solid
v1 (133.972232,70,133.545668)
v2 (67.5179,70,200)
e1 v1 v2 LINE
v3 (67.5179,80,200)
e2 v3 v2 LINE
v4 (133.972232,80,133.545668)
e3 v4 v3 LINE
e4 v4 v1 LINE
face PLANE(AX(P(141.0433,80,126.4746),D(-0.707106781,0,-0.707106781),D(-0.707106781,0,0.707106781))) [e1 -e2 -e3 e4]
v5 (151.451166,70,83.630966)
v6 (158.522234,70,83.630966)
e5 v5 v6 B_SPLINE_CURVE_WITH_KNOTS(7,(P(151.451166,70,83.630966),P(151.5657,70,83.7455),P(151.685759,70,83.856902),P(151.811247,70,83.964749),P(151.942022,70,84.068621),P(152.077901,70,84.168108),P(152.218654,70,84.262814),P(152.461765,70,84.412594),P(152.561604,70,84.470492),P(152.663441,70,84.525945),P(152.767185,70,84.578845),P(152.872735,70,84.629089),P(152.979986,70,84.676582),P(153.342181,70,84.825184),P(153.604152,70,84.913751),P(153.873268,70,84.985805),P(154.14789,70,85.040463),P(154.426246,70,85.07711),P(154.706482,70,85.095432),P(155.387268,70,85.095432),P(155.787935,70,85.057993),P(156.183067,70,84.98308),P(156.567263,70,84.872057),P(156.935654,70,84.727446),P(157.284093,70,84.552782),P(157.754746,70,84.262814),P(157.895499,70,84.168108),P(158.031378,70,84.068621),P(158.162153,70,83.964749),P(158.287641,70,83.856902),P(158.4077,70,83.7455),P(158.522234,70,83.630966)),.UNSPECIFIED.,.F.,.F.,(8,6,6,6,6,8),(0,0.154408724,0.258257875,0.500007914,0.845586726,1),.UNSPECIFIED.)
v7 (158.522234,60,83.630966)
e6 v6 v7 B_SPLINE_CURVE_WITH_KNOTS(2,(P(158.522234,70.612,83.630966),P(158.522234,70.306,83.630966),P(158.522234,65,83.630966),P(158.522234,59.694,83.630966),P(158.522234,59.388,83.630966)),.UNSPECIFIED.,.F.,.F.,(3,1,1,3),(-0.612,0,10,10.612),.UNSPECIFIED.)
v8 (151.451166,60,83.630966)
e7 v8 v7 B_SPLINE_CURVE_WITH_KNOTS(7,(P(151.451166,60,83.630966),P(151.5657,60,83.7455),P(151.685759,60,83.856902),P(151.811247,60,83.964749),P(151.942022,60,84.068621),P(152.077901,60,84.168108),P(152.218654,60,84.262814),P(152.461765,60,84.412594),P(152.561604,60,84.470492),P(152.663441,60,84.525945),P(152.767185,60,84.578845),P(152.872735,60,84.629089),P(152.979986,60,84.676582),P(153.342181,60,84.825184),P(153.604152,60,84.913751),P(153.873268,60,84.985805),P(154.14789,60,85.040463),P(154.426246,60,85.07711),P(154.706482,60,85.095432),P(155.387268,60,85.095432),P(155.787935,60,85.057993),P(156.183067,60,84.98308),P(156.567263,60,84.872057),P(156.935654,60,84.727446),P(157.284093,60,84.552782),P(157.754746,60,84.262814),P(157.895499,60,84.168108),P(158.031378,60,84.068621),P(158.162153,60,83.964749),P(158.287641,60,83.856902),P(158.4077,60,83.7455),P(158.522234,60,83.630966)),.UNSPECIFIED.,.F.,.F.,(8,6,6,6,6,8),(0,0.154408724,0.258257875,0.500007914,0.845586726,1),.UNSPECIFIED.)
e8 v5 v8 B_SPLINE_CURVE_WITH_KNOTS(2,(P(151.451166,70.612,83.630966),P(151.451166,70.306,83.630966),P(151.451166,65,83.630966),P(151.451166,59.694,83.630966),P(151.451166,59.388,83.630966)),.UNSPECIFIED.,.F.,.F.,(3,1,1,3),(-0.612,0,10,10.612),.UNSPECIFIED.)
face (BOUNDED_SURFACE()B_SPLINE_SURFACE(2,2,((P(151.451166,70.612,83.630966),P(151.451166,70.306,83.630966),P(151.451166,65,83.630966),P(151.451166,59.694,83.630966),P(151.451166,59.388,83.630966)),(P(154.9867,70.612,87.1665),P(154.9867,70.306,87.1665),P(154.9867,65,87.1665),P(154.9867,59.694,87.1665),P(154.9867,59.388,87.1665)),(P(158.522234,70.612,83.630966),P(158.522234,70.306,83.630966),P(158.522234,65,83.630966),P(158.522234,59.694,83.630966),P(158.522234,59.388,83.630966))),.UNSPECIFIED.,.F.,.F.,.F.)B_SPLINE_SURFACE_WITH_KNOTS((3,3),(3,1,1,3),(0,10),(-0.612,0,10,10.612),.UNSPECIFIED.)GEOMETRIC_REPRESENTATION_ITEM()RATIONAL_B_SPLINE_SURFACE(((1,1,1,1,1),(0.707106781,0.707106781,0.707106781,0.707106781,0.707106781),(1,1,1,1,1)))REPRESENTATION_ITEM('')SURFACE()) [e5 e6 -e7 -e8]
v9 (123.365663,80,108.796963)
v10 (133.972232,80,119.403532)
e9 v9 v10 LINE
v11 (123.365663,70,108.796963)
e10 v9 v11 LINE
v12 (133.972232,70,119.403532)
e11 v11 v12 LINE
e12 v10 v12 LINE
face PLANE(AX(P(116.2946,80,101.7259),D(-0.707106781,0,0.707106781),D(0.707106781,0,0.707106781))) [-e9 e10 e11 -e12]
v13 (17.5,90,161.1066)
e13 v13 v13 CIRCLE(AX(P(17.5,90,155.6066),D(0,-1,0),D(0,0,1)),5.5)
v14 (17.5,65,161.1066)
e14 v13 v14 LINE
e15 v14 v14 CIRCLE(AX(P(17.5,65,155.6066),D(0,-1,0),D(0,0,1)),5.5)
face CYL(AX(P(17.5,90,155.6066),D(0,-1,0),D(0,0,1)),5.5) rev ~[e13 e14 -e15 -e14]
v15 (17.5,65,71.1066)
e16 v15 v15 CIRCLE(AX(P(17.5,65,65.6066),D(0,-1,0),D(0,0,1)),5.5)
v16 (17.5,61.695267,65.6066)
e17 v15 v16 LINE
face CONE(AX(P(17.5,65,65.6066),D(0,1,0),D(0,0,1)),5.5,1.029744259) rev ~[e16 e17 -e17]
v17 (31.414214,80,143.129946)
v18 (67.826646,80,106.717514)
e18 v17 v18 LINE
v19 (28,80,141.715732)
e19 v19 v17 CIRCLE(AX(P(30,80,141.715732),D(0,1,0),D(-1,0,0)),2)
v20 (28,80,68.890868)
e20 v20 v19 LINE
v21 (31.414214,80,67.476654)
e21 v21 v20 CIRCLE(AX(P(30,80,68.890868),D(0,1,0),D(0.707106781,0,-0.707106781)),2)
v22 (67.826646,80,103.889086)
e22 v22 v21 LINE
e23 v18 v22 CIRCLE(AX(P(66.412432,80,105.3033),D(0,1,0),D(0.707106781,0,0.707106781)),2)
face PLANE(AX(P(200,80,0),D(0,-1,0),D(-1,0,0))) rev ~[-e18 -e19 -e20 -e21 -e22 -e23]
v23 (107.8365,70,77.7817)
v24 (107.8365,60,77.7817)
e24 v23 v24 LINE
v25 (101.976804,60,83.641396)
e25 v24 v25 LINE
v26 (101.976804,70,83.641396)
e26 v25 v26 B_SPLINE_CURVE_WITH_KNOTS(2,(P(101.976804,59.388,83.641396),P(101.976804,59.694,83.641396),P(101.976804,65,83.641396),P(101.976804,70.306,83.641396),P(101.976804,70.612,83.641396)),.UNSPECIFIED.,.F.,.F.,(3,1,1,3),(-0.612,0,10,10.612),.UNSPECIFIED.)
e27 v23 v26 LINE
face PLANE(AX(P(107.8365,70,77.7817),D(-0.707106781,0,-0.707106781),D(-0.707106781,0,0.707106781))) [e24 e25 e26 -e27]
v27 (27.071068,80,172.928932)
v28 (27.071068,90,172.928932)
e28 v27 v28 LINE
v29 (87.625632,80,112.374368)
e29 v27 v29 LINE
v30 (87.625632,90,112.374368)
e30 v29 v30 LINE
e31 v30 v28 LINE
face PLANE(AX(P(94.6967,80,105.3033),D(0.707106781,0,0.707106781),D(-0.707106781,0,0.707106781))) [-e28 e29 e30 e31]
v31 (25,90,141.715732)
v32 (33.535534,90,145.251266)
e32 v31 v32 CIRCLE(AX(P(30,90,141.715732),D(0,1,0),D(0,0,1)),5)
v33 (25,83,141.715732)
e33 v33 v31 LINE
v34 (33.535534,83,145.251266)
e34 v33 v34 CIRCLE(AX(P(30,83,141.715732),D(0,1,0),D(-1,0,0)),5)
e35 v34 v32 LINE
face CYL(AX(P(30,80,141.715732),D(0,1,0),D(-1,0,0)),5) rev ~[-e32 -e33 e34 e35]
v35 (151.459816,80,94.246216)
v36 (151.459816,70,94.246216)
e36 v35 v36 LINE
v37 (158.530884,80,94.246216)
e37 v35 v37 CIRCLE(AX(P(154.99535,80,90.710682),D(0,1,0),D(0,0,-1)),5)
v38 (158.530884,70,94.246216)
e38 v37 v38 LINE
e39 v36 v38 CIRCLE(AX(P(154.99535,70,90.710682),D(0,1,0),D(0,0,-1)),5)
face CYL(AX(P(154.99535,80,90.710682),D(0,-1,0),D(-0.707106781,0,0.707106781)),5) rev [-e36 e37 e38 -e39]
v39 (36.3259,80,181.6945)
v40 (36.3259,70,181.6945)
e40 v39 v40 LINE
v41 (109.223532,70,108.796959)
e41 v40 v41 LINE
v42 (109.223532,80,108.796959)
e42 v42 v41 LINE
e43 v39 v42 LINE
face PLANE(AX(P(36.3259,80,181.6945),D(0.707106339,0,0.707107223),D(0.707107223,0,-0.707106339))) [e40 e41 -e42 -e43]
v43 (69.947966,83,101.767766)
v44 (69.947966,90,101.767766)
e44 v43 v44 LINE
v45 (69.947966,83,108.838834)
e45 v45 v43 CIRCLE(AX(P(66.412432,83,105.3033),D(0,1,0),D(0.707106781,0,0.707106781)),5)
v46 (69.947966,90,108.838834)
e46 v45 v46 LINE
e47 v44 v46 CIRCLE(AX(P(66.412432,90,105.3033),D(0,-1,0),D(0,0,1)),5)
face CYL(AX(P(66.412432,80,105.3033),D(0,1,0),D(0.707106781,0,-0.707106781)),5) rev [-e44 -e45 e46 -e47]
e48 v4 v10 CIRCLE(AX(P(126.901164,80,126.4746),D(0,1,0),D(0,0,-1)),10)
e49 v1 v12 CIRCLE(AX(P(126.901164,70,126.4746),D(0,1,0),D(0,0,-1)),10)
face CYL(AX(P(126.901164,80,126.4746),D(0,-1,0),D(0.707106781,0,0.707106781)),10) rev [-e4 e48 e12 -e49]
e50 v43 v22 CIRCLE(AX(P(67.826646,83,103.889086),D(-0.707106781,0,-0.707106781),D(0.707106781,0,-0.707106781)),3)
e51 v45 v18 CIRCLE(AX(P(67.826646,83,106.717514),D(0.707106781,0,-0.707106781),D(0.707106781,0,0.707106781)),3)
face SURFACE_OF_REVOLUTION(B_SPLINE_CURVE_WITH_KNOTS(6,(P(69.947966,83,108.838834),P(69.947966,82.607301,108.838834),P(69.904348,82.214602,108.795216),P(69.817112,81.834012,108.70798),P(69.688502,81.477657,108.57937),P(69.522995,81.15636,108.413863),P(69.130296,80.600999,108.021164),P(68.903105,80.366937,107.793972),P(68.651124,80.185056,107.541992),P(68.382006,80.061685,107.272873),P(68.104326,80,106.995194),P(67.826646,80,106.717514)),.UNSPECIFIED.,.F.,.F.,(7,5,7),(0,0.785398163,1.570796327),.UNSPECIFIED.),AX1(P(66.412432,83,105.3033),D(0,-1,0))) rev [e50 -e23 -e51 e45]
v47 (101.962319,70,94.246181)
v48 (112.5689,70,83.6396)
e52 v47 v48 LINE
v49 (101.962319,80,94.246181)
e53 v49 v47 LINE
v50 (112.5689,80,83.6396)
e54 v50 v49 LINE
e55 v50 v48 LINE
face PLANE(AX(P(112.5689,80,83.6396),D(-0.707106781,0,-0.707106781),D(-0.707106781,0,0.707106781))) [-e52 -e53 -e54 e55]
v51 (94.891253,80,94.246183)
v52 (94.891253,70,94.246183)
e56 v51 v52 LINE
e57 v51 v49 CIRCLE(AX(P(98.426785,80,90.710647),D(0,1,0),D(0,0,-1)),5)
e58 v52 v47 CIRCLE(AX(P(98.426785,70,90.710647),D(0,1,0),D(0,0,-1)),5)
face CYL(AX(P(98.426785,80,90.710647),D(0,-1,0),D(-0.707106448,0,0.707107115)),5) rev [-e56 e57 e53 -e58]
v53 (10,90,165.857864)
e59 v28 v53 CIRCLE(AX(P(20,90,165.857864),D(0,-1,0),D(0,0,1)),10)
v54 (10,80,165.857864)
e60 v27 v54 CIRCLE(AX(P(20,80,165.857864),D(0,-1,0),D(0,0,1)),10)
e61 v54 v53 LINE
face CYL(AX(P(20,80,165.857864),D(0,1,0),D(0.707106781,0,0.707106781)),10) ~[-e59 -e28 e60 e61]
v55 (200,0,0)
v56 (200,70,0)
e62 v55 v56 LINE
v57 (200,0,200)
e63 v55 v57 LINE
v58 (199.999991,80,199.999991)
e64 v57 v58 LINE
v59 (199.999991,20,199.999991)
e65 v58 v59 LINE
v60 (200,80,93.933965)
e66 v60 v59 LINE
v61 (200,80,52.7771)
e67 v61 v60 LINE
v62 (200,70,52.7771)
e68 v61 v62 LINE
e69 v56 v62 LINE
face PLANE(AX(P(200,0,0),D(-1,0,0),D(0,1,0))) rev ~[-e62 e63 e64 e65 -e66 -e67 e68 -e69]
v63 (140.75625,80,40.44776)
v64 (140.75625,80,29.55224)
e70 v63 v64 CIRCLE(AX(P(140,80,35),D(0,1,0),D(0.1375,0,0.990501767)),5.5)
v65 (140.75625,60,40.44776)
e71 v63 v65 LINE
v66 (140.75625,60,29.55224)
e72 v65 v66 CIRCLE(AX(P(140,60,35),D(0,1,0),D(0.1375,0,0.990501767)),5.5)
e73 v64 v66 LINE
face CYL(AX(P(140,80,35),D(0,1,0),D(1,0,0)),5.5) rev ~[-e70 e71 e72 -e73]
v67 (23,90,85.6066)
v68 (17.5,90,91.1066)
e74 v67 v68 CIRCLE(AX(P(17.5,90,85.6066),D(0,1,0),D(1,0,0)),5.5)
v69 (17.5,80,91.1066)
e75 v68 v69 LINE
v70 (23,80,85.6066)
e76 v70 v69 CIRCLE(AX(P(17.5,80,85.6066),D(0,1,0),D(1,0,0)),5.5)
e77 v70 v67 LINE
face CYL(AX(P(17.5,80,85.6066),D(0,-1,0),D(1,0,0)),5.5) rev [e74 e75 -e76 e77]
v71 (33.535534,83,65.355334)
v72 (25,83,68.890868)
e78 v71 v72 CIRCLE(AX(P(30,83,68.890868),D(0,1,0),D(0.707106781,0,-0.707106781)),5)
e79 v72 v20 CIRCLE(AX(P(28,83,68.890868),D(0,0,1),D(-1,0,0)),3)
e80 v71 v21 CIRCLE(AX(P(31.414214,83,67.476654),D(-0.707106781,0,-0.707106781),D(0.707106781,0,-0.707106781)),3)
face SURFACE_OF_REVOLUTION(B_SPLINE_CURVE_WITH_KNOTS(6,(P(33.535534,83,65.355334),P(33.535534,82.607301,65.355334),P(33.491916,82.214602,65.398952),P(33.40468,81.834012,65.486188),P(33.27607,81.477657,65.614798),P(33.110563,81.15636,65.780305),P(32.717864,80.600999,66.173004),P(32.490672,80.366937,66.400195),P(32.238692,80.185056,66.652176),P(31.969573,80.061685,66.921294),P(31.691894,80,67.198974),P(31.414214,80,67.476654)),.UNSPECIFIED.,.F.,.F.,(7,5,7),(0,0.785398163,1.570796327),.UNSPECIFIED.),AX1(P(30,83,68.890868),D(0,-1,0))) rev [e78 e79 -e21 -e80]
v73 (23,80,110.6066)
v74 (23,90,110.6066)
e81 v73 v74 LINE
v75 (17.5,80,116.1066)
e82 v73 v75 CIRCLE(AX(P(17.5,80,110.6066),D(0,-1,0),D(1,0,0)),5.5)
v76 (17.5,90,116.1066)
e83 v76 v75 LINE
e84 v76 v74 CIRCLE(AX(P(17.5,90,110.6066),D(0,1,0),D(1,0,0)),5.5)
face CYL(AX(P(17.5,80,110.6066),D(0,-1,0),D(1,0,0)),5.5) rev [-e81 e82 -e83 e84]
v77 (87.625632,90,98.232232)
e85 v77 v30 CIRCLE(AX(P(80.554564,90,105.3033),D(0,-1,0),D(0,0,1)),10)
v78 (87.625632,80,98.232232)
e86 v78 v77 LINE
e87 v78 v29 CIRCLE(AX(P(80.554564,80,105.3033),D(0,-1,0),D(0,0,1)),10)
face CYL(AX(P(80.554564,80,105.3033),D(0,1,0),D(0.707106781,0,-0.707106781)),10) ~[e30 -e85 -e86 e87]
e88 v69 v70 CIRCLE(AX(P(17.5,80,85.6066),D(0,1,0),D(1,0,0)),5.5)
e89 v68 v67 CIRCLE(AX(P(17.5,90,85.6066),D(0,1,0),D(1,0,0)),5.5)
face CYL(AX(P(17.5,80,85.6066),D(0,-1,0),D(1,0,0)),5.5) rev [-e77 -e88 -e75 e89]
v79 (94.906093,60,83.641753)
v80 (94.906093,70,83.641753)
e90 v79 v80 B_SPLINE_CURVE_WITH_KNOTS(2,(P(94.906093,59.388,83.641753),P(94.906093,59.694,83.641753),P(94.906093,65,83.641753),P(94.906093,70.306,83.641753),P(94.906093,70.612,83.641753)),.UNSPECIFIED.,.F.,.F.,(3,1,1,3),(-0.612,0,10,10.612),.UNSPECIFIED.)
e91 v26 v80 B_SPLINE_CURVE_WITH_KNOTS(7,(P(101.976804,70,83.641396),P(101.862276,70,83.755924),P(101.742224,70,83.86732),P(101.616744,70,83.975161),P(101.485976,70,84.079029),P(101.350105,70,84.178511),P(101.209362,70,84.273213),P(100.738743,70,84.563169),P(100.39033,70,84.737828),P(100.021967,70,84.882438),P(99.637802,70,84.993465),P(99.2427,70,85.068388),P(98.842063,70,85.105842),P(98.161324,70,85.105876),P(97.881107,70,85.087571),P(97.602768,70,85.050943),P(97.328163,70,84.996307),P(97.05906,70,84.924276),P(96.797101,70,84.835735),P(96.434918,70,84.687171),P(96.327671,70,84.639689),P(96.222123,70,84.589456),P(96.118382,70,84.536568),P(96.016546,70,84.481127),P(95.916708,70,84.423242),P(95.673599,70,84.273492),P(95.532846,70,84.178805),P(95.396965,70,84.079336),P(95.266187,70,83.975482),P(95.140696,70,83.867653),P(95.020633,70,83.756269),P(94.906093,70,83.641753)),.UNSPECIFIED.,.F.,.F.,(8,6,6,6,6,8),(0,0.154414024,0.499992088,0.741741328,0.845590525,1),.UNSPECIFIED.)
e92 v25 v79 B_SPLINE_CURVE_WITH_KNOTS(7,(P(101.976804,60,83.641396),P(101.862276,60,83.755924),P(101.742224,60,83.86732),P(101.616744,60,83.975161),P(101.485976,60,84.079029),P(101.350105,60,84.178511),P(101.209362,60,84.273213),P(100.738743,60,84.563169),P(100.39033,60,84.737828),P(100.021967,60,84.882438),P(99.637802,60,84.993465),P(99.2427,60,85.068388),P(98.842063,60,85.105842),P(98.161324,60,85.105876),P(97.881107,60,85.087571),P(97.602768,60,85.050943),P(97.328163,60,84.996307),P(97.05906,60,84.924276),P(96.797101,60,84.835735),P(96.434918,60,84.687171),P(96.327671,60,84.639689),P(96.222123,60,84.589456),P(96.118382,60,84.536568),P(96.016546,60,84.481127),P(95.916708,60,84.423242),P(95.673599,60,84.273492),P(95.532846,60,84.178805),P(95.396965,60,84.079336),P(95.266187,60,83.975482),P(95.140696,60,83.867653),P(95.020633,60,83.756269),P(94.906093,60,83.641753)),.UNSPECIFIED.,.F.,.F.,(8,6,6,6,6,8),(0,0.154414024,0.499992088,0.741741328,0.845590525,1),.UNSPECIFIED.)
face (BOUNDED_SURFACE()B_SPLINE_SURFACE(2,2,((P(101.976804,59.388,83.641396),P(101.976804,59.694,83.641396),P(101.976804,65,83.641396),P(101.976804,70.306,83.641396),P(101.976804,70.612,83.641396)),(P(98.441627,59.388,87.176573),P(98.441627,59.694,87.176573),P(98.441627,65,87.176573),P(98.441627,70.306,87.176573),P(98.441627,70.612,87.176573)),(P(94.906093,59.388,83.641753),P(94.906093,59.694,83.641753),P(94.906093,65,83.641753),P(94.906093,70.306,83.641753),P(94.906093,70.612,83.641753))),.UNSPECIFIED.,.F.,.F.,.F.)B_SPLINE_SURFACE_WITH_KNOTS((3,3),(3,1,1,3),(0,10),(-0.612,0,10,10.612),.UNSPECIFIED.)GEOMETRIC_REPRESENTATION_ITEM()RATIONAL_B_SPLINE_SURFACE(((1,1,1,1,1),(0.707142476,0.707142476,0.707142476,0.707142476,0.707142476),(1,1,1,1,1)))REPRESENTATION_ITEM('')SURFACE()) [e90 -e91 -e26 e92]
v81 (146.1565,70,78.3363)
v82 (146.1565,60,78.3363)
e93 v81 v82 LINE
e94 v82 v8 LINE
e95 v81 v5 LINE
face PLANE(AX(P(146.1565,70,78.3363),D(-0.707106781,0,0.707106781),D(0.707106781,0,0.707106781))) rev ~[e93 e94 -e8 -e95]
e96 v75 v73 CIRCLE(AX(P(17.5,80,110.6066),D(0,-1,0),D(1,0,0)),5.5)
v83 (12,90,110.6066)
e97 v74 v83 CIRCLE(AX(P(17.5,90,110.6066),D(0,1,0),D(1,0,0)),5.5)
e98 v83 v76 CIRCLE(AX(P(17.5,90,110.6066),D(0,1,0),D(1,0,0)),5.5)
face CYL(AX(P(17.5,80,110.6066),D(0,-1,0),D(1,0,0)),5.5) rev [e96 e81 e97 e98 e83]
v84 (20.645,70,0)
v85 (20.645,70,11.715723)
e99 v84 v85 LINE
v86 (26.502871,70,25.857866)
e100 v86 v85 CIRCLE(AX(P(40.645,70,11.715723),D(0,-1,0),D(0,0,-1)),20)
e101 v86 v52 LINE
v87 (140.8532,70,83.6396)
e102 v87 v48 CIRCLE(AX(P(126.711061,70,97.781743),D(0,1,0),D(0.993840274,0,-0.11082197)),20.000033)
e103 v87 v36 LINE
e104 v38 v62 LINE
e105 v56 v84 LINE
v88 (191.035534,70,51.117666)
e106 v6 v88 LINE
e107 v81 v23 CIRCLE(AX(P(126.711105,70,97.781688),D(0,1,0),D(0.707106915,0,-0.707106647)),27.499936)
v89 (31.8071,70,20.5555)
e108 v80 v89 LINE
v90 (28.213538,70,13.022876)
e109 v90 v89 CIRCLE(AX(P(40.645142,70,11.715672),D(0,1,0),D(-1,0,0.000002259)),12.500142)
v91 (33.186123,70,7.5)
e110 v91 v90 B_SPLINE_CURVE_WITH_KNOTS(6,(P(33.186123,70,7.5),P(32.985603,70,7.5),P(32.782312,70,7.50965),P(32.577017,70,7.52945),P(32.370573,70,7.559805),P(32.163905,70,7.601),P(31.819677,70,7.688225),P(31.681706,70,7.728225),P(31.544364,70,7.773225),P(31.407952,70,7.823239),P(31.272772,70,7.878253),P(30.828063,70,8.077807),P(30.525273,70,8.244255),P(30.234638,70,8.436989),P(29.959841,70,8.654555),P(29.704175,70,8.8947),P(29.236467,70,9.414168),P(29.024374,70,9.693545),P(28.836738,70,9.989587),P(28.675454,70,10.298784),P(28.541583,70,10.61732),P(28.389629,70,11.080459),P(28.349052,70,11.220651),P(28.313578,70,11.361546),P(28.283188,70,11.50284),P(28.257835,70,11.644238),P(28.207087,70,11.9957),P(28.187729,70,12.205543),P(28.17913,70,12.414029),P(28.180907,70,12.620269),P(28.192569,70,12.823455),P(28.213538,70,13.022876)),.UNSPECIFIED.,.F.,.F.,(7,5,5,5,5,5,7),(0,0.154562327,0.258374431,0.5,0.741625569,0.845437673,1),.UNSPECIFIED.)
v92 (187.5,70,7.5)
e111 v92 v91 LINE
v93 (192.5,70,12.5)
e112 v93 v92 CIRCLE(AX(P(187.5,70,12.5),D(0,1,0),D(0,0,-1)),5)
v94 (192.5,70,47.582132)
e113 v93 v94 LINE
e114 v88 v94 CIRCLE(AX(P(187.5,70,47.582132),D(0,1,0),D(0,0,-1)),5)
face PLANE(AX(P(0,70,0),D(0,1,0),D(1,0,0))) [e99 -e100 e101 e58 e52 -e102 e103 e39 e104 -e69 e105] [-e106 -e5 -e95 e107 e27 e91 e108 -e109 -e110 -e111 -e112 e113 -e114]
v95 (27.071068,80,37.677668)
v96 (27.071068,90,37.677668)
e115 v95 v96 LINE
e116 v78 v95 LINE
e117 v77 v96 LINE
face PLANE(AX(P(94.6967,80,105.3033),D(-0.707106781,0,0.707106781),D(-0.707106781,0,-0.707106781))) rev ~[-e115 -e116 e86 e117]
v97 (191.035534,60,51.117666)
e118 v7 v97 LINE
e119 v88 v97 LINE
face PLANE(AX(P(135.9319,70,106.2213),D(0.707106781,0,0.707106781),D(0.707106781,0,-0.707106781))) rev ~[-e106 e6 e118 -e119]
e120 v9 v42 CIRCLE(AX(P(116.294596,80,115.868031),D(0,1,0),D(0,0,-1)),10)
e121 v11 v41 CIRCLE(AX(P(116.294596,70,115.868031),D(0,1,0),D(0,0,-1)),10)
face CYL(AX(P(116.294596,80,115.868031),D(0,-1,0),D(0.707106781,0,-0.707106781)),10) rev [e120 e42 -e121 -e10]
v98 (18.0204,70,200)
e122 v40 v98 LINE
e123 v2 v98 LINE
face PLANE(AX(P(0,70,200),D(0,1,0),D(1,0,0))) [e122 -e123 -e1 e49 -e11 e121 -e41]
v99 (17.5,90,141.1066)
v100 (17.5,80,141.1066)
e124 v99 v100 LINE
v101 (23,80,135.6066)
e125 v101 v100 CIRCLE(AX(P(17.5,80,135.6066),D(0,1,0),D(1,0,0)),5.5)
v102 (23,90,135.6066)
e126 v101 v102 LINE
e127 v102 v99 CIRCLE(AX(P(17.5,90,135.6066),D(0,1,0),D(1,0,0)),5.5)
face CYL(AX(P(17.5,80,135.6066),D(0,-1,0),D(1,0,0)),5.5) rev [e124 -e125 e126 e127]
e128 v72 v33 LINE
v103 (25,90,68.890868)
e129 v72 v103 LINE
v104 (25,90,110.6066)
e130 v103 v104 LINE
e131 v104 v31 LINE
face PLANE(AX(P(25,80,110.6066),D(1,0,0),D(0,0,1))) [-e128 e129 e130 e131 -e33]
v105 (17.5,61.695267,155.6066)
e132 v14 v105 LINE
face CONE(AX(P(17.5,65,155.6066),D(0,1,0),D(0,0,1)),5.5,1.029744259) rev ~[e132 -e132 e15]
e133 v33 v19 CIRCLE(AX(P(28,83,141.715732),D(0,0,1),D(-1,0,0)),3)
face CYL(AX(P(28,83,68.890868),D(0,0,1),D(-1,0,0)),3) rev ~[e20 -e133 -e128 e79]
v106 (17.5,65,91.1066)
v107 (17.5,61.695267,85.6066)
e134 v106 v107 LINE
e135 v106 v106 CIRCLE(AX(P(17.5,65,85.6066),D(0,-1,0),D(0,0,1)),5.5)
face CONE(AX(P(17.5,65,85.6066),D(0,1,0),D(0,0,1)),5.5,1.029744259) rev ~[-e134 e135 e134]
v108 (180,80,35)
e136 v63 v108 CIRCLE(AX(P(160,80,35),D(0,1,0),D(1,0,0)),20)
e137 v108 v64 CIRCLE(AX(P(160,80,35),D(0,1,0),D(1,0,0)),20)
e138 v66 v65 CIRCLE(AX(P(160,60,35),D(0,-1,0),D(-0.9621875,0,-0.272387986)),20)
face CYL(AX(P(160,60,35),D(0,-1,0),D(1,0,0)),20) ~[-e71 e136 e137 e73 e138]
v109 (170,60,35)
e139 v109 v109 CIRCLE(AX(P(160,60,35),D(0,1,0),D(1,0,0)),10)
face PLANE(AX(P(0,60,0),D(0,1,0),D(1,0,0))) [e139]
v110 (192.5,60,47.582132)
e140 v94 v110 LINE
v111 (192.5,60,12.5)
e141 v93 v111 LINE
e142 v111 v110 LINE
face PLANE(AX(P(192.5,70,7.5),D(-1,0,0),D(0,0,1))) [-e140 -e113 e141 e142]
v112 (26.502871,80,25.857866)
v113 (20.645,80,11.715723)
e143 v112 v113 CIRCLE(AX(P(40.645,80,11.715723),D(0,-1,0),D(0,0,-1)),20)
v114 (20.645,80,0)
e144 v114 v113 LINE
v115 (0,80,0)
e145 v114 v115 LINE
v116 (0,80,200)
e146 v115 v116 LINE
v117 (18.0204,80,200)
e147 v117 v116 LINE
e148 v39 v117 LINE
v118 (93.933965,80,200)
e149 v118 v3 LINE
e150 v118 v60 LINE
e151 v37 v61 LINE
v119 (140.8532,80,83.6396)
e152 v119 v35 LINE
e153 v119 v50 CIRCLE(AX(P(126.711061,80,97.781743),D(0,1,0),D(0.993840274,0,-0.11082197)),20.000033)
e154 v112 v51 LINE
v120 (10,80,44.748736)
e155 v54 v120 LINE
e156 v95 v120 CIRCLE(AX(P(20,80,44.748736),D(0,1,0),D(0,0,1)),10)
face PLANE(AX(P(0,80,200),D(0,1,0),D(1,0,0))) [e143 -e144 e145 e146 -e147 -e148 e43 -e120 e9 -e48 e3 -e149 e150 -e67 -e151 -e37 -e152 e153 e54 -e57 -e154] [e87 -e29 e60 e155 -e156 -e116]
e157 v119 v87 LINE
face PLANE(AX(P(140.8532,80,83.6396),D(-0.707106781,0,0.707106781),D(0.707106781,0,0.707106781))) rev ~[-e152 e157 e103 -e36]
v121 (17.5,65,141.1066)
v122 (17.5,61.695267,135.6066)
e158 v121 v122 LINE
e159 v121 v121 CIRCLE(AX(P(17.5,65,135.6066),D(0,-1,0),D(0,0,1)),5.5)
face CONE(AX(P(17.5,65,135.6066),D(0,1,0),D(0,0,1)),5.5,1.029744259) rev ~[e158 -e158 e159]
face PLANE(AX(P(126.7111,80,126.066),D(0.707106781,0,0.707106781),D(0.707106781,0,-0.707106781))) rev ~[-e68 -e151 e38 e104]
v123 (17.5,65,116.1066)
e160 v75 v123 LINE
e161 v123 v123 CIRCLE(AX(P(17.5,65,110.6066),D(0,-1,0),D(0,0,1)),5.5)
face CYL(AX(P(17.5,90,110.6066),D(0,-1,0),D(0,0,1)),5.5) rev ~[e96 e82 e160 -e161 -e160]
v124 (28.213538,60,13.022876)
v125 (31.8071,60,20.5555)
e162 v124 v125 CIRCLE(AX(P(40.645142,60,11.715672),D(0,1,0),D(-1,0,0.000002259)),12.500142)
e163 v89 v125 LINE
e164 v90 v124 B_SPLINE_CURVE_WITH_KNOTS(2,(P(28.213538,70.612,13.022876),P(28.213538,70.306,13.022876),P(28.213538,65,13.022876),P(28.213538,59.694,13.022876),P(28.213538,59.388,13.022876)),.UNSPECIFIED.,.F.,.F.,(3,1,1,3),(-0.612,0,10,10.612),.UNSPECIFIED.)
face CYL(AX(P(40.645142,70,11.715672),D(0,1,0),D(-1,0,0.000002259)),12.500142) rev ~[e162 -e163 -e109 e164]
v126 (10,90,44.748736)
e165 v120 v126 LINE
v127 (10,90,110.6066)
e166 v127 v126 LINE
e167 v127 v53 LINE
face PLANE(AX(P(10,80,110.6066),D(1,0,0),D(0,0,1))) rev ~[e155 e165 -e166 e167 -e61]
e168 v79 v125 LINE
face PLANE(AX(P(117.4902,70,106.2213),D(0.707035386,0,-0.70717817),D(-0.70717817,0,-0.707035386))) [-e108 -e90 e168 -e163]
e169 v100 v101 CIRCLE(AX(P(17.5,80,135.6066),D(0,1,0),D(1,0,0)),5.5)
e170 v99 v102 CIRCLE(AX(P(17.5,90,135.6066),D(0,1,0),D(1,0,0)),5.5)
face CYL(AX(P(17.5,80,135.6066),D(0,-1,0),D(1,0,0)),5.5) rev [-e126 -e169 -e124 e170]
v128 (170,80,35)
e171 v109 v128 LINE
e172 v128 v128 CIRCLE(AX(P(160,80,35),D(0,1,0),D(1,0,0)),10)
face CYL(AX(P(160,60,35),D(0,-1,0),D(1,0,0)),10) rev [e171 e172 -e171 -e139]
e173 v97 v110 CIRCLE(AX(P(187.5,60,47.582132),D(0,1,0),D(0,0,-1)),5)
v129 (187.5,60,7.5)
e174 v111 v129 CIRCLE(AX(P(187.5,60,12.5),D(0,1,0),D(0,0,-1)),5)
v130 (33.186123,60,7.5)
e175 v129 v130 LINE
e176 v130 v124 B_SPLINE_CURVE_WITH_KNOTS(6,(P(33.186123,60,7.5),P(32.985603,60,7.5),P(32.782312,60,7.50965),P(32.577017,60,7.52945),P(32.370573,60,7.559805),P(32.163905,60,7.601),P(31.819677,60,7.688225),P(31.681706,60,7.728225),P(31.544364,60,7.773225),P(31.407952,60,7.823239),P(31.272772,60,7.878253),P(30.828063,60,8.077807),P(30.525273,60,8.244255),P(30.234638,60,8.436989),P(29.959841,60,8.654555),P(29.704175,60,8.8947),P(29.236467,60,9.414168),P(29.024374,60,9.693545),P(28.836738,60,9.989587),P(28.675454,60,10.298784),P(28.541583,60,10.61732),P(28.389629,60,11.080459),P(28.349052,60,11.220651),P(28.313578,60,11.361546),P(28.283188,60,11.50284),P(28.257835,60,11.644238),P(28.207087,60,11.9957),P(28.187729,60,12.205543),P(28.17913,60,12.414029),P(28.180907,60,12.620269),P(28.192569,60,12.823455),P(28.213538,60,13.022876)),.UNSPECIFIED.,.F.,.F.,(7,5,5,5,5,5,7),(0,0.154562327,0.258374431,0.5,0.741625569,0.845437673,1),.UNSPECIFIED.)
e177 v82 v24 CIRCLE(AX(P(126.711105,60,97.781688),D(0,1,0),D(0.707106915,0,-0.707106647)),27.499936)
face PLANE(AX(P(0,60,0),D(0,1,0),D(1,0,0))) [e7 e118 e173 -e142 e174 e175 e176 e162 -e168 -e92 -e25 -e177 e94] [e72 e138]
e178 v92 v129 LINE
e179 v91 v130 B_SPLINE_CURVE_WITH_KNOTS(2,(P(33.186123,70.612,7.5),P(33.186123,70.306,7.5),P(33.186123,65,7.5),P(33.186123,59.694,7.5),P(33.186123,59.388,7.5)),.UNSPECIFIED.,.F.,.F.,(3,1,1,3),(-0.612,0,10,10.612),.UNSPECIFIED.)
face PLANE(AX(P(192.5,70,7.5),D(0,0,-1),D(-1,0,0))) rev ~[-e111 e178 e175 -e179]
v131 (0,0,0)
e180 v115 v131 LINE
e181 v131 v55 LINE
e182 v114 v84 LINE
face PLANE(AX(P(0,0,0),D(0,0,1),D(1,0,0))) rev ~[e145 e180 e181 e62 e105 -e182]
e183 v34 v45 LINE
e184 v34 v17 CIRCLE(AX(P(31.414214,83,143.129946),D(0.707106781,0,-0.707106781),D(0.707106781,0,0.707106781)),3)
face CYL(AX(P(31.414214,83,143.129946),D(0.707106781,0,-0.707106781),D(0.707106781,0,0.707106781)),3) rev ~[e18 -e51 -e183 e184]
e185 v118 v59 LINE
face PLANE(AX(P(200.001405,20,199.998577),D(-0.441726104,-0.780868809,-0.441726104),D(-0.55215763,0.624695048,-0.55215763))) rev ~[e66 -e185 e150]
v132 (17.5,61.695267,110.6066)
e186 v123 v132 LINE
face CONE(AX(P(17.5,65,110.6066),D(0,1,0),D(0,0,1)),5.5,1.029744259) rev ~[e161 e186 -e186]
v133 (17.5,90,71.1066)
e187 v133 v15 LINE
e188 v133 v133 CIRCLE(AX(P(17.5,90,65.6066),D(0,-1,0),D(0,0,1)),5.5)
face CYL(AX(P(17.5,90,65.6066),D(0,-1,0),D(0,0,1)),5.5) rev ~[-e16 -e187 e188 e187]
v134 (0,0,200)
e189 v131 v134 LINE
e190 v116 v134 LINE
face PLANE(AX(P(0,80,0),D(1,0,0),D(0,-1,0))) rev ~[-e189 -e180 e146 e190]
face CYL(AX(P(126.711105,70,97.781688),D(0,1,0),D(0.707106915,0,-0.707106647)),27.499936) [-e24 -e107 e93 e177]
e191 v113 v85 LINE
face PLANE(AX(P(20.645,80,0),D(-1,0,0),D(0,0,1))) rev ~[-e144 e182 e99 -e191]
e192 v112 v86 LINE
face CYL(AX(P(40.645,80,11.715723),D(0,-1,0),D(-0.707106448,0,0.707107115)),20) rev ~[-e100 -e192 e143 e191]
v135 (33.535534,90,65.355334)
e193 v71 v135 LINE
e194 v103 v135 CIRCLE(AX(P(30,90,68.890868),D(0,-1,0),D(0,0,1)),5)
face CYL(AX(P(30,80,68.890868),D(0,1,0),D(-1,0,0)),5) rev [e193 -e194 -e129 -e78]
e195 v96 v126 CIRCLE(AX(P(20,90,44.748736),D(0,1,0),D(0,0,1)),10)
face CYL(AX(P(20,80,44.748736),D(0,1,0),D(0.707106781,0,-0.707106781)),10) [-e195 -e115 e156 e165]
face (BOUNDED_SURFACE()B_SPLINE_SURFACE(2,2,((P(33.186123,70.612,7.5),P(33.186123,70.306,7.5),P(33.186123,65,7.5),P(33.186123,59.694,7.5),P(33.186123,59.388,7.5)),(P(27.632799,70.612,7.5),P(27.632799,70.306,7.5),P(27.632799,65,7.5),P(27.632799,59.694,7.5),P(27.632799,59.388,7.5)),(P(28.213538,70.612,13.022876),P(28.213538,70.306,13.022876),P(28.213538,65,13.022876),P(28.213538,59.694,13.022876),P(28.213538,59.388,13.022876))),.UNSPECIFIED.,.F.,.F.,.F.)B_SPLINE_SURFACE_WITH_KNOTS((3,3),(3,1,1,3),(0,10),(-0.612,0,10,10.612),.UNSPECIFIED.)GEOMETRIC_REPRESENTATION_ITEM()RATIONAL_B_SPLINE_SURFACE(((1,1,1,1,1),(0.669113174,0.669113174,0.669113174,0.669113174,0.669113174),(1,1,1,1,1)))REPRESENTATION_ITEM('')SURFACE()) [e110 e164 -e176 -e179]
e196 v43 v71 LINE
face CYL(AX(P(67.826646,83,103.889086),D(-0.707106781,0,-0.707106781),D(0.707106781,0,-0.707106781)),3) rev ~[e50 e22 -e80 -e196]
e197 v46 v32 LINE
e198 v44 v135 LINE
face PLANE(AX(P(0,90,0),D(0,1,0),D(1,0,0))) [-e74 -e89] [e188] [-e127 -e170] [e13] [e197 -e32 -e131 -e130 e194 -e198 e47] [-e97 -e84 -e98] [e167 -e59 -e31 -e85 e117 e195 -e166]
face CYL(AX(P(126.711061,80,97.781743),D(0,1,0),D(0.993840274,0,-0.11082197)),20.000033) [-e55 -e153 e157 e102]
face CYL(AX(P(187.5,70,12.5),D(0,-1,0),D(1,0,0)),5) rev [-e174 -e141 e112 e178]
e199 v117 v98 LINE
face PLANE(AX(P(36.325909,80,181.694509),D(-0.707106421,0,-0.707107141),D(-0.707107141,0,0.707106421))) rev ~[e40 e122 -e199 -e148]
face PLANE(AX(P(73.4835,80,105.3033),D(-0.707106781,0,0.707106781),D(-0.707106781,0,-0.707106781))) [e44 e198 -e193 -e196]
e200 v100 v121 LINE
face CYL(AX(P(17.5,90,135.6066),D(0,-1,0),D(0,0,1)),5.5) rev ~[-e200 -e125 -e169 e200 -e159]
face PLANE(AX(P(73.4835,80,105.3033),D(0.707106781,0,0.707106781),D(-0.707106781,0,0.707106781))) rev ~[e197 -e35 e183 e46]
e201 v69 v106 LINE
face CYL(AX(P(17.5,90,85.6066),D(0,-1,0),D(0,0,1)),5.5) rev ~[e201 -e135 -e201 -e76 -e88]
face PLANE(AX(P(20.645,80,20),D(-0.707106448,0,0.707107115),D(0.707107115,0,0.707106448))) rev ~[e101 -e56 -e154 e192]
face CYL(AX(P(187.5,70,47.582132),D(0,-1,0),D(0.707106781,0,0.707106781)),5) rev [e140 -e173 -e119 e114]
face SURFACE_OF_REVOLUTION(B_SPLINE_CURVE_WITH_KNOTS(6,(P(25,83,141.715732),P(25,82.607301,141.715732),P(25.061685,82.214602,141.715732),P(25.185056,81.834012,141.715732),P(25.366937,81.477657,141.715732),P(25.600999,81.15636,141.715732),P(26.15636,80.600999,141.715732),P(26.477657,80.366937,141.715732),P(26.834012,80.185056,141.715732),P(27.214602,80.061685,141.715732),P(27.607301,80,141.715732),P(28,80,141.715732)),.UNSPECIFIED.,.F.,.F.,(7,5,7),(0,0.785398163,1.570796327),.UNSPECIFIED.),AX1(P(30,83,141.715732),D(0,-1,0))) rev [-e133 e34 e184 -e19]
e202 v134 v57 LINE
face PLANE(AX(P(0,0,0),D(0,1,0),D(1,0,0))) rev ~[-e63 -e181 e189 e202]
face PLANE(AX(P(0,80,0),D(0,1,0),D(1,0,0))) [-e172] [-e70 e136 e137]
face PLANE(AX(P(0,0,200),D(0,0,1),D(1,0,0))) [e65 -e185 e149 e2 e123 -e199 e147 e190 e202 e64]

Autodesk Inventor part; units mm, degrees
ref_plane "YZ Plane" through (0, 0, 0) normal (1, 0, 0) x (0, 1, 0)
ref_plane "XZ Plane" through (0, 0, 0) normal (0, 1, 0) x (-1, 0, 0)
sketch "Sketch1" plane through (0, 0, 0) normal (0, 0, 1) x (1, 0, 0)
  line L0 (0, 0) -> (200, 0)
  line L1 (200, 0) -> (200, 80)
  line L2 (200, 80) -> (0, 80)
  line L3 (0, 80) -> (0, 0)
  dimension "d0" = 200
  dimension "d1" = 80
extrude "Extrusion1" add sketch "Sketch1" along normal blind 200
sketch "Sketch2" plane through (0, 80, 0) normal (0, 1, 0) x (1, 0, 0)
  line L0 (0, 0) -> (200, 0) projected
  line L1 (0, 0) -> (0, -200) projected
  line L2 (10, -20.6066) -> (10, -190)
  line L3 (20.6066, -10) -> (190, -10)
  line L4 (10, -20.6066) -> (10, -25)
  line L5 (20.6066, -10) -> (25, -10)
  line L6 (105.3033, -94.6967) -> (20.6066, -10)
  line L7 (94.6967, -105.3033) -> (10, -20.6066)
  line L8 (190, -10) -> (105.3033, -94.6967)
  line L9 (94.6967, -105.3033) -> (10, -190)
  line L10 (105.3033, -73.4835) -> (153.7868, -25)
  line L11 (94.6967, -105.3033) -> (84.0901, -115.9099)
  line L12 (73.4835, -105.3033) -> (25, -56.8198)
  line L13 (105.3033, -73.4835) -> (56.8198, -25)
  line L14 (153.7868, -25) -> (56.8198, -25)
  line L15 (25, -56.8198) -> (25, -153.7868)
  line L16 (134.3503, -134.3503) -> (91.9239, -176.7767)
  line L17 (63.6396, -148.4924) -> (148.4924, -63.6396)
  line L18 (176.7767, -91.9239) -> (134.3503, -134.3503)
  arc A0 (176.7767, -91.9239) -> (148.4924, -63.6396) centre (162.6346, -77.7817) ccw
  arc A1 (169.7056, -84.8528) -> (155.5635, -70.7107) centre (162.6346, -77.7817) ccw
  line L19 (169.7056, -84.8528) -> (97.1003, -157.4582)
  line L20 (155.5635, -70.7107) -> (82.9581, -143.316)
  line L21 (73.4835, -105.3033) -> (25, -153.7868)
  line L22 (10, -110.6066) -> (25, -110.6066)
  circle A2 centre (17.5, -110.6066) radius 5.5
  circle A3 centre (17.5, -135.6066) radius 5.5
  circle A4 centre (17.5, -85.6066) radius 5.5
  circle A5 centre (17.5, -65.6066) radius 3.5
  circle A6 centre (17.5, -155.6066) radius 3.5
  arc A7 (63.6396, -148.4924) -> (91.9239, -176.7767) centre (77.7817, -162.6346) ccw
  arc A8 (97.1003, -157.4582) -> (82.9581, -143.316) centre (77.7817, -162.6346) ccw
  dimension "d20" = 40
  dimension "d22" = 11
  dimension "d24" = 11
  dimension "d26" = 11
  dimension "d29" = 7
  dimension "d30" = 7
extrude "Extrusion2" add sketch "Sketch2" along normal blind 10
ref_plane "Work Plane1" through (0, 80, 0) normal (-0.7071, 0, 0.7071) x (0, -1, 0)
sketch "Sketch3" plane through (0, 80, 0) normal (-0.7071, 0, 0.7071) x (0, -1, 0)
  line L0 (80, 282.8427) -> (0, 282.8427) projected
  line L1 (0, 282.8427) -> (0, 207.8427)
  line L2 (0, 141.4214) -> (0, 282.8427) projected
  line L3 (0, 282.8427) -> (60, 282.8427)
  line L4 (60, 282.8427) -> (0, 207.8427)
  point P0 (80, 0)
  dimension "d33" = 75
  dimension "d34" = 60
extrude "Extrusion3" cut sketch "Sketch3" along normal mid plane 200
fillet "Fillet1" radius 5 3 edges at (25, 85, 56.8198) (73.4835, 85, 105.3033) (25, 85, 153.7868)
sketch "Sketch5" plane through (0, 90, 0) normal (0, 1, 0) x (1, 0, 0)
  point P0 (0, 0)
sketch "Sketch6" plane through (0, 90, 0) normal (0, 1, 0) x (1, 0, 0)
  arc A0 (63.6396, -148.4924) -> (91.9239, -176.7767) centre (77.7817, -162.6346) ccw projected
  arc A1 (63.6396, -148.4924) -> (91.9239, -176.7767) centre (77.7817, -162.6346) ccw
  arc A2 (169.7056, -84.8528) -> (155.5635, -70.7107) centre (162.6346, -77.7817) ccw projected
  arc A3 (176.7767, -91.9239) -> (148.4924, -63.6396) centre (162.6346, -77.7817) ccw
  line L0 (148.4924, -63.6396) -> (63.6396, -148.4924) projected
  line L1 (63.6396, -148.4924) -> (148.4924, -63.6396)
  line L2 (91.9239, -176.7767) -> (176.7767, -91.9239) projected
  line L3 (91.9239, -176.7767) -> (176.7767, -91.9239)
  point P0 (0, 0)
extrude "Extrusion5" cut sketch "Sketch6" against normal blind 10
sketch "Sketch7" plane through (0, 90, 0) normal (0, 1, 0) x (1, 0, 0)
  line L0 (105.3033, -94.6967) -> (20.6066, -10) projected
  line L1 (20.6066, -10) -> (105.3033, -94.6967)
  line L2 (190, -10) -> (105.3033, -94.6967) projected
  line L3 (105.3033, -94.6967) -> (190, -10)
  line L4 (190, -10) -> (20.6066, -10)
  point P0 (0, 0)
extrude "Extrusion6" cut sketch "Sketch7" against normal blind 10
sketch "Sketch8" plane through (0, 80, 0) normal (0, 1, 0) x (1, 0, 0)
  line L0 (200, 0) -> (0, 0) projected
  line L1 (0, 0) -> (20.645, 0)
  line L2 (20.645, 0) -> (20.645, -20)
  line L3 (20.645, -20) -> (126.7111, -126.066)
  line L4 (20.645, -20) -> (170.645, -20) construction
  line L5 (126.7111, -126.066) -> (200, -52.7771)
  line L6 (200, 0) -> (200, -93.934) projected
  line L7 (20.645, 0) -> (200, 0)
  line L8 (200, -52.7771) -> (200, 0)
  dimension "d45" = 20
  dimension "d46" = 150
  dimension "d47" = 45
extrude "Extrusion7" cut sketch "Sketch8" against normal blind 10
fillet "Fillet2" radius 20 2 edges at (126.7111, 75, 126.066) (20.645, 75, 20)
sketch "Sketch9" plane through (0, 70, 0) normal (0, 1, 0) x (1, 0, 0)
  arc A0 (112.5689, -111.9239) -> (140.8532, -111.9239) centre (126.7111, -97.7817) ccw projected
  arc A1 (117.4902, -106.2213) -> (135.9319, -106.2213) centre (126.7111, -97.7817) ccw
  arc A2 (20.645, -11.7157) -> (26.5029, -25.8579) centre (40.645, -11.7157) ccw projected
  arc A3 (28.145, -11.7157) -> (31.8071, -20.5555) centre (40.645, -11.7157) ccw
  line L0 (117.4902, -106.2213) -> (31.8071, -20.5555)
  line L1 (135.9319, -106.2213) -> (226.547, -106.2213) construction
  line L2 (200, 0) -> (200, -52.7771) projected
  line L3 (200, 0) -> (192.5, 0)
  line L4 (20.645, 0) -> (200, 0) projected
  line L5 (192.5, -7.5) -> (192.5, -49.6532)
  line L6 (200, 0) -> (200, -7.5)
  line L7 (192.5, -7.5) -> (28.145, -7.5)
  line L8 (28.145, -11.7157) -> (28.145, -7.5)
  line L9 (135.9319, -106.2213) -> (192.5, -49.6532)
  line L10 (200, -42.1532) -> (200.0065, -42.1467)
  line L11 (126.7111, -97.7817) -> (126.7111, -85.2817)
  circle A4 centre (126.7111, -97.7817) radius 12.5
  point P0 (0, 0)
  dimension "d51" = 25
  dimension "d52" = 25
  dimension "d54" = 7.5
  dimension "d55" = 7.5
extrude "Extrusion8" cut sketch "Sketch9" against normal blind 10 contours L0 A3 L8 L7 L5 L9 A4
sketch "Sketch10" plane through (0, 70, 0) normal (0, 1, 0) x (1, 0, 0)
  arc A0 (135.9319, -106.2213) -> (117.4902, -106.2213) centre (126.7111, -97.7817) ccw projected
  circle A1 centre (126.7111, -97.7817) radius 20
  point P0 (0, 0)
extrude "Extrusion9" add sketch "Sketch10" along normal blind 10 and the other way blind 10
sketch "Sketch11" plane through (0, 80, 200) normal (0, 1, 0) x (1, 0, 0)
  arc A0 (146.5879, 104.4347) -> (106.834, 104.4327) centre (126.7111, 102.2183) ccw projected
  line L0 (126.7111, 102.2183) -> (112.5689, 116.3604)
  line L1 (126.7111, 102.2183) -> (146.7111, 102.2183) construction
  line L2 (112.5689, 116.3604) -> (98.4268, 102.2183)
  line L3 (112.5689, 88.0761) -> (26.5029, 174.1421) projected
  line L4 (140.8532, 116.3604) -> (154.9953, 102.2183)
  line L5 (200, 147.2229) -> (140.8532, 88.0761) projected
  arc A1 (112.5689, 88.0761) -> (140.8532, 88.0761) centre (126.7111, 102.2183) ccw
  arc A2 (140.8532, 116.3604) -> (112.5689, 116.3604) centre (126.7111, 102.2183) ccw
  line L6 (112.5689, 88.0761) -> (98.4268, 102.2183)
  line L7 (154.9953, 102.2183) -> (140.8532, 88.0761)
  point P0 (0, 200)
  dimension "d62" = 135
extrude "Extrusion10" add sketch "Sketch11" against normal blind 20
fillet "Fillet3" radius 10 2 edges at (103.7373, 65, 92.4712) (149.6834, 65, 92.4698)
sketch "Sketch12" plane through (0, 70, 0) normal (0, 1, 0) x (1, 0, 0)
  arc A0 (140.8532, -83.6396) -> (112.5689, -83.6396) centre (126.7111, -97.7817) ccw projected
  line L0 (107.8365, -77.7817) -> (93.1316, -92.4866)
  line L1 (98.4268, -97.7817) -> (26.5029, -25.8579) projected
  line L2 (146.1565, -78.3363) -> (160.2986, -92.4784)
  line L3 (200, -52.7771) -> (154.9953, -97.7817) projected
  line L4 (160.2986, -92.4784) -> (127.5069, -125.2702)
  line L5 (127.5069, -125.2702) -> (93.9274, -91.6908)
  arc A1 (146.1565, -78.3363) -> (106.7111, -78.9072) centre (126.7111, -97.7817) ccw
  point P0 (0, 0)
extrude "Extrusion11" add sketch "Sketch12" against normal blind 20 contours A1 L2 L3 L4 L5 L0
fillet "Fillet4" radius 5 2 edges at (98.6681, 65, 86.9501) (154.7622, 65, 86.942)
fillet "Fillet5" radius 5 2 edges at (98.4268, 75, 97.7817) (154.9953, 75, 97.7817)
fillet "Fillet6" radius 5 3 edges at (192.5, 65, 7.5) (192.5, 65, 49.6532) (28.145, 65, 7.5)
sketch "Sketch13" plane through (0, 60, 0) normal (0, 1, 0) x (1, 0, 0)
  line L0 (200, 0) -> (200, -52.7771) projected
  line L1 (200, 0) -> (200, -35)
  line L2 (200, -35) -> (160, -35)
  circle A0 centre (160, -35) radius 20
  circle A1 centre (160, -35) radius 10
  point P0 (0, 0)
  dimension "d72" = 35
  dimension "d73" = 40
  dimension "d74" = 40
  dimension "d75" = 20
extrude "Extrusion12" add sketch "Sketch13" along normal blind 20
fillet "Fillet7" radius 10 3 edges at (94.6967, 85, 105.3033) (10, 85, 20.6066) (10, 85, 190)
fillet "Fillet8" radius 3 6 edges at (28.0866, 80, 146.3351) (51.7417, 80, 127.045) (71.4124, 80, 105.3033) (51.7417, 80, 83.5616) (28.0866, 80, 64.2715) (25, 80, 105.3033)
sketch "Sketch14" plane through (160, 80, 35) normal (0, 1, 0) x (1, 0, 0)
  circle A0 centre (0, 0) radius 20 projected
  circle A1 centre (-20, 0) radius 5.5
  point P0 (-160, 35)
  dimension "d80" = 11
extrude "Extrusion13" cut sketch "Sketch14" against normal blind 20 contours A1 A0 | A0 A1 picked at (-18.1103, 0) picked at (-21.777, 0)
sketch "Sketch15" plane through (0, 80, 200) normal (0, 1, 0) x (1, 0, 0)
  line L0 (87.6256, 87.6256) -> (27.0711, 27.0711) projected
  line L1 (27.0711, 27.0711) -> (87.6256, 87.6256)
  line L2 (87.6256, 87.6256) -> (27.0711, 27.0711)
  line L3 (36.3259, 18.3055) -> (116.2946, 98.2741)
  line L4 (116.2946, 98.2741) -> (18.0204, 0)
  line L5 (116.2946, 98.2741) -> (141.0433, 73.5254)
  line L6 (141.0433, 73.5254) -> (67.5179, 0)
  line L7 (93.934, 0) -> (0, 0) projected
  line L8 (67.5179, 0) -> (18.0204, 0)
  point P0 (0, 200)
  dimension "d83" = 35
extrude "Extrusion14" cut sketch "Sketch15" against normal blind 10
fillet "Fillet9" radius 10 2 edges at (116.2946, 75, 101.7259) (141.0433, 75, 126.4746)
sketch "Sketch17" plane through (0, 90, 0) normal (0, 1, 0) x (1, 0, 0)
  circle A0 centre (17.5, -110.6066) radius 5.5 projected
  circle A1 centre (17.5, -110.6066) radius 5.5
  circle A2 centre (17.5, -135.6066) radius 5.5 projected
  circle A3 centre (17.5, -135.6066) radius 5.5
  circle A4 centre (17.5, -85.6066) radius 5.5 projected
  circle A5 centre (17.5, -85.6066) radius 5.5
  circle A6 centre (17.5, -65.6066) radius 3.5 projected
  circle A7 centre (17.5, -65.6066) radius 3.5
  circle A8 centre (17.5, -155.6066) radius 3.5 projected
  circle A9 centre (17.5, -155.6066) radius 3.5
  point P0 (0, 0)
hole "Hole1" at (17.5, 90, 85.6066) at (17.5, 90, 110.6066) at (17.5, 90, 135.6066) direction (0, -1, 0) diameter 11 depth 25 tip angle 118
sketch "Sketch18" plane through (0, 90, 0) normal (0, 1, 0) x (1, 0, 0)
  circle A0 centre (17.5, -65.6066) radius 3.5 projected
  circle A1 centre (17.5, -65.6066) radius 3.5
  circle A2 centre (17.5, -155.6066) radius 3.5 projected
  circle A3 centre (17.5, -155.6066) radius 3.5
  point P0 (0, 0)
hole "Hole2" at (17.5, 90, 65.6066) at (17.5, 90, 155.6066) direction (0, -1, 0) diameter 11 depth 25 tip angle 118
thread "Thread1" size "M11x1.5" class "6H" standard "ANSI Metric M Profile" length 15
thread "Thread2" size "M11x1.5" class "6H" standard "ANSI Metric M Profile" length 15
thread "Thread3" size "M11x1.5" class "6H" standard "ANSI Metric M Profile" length 15
properties part number "proyecto"
